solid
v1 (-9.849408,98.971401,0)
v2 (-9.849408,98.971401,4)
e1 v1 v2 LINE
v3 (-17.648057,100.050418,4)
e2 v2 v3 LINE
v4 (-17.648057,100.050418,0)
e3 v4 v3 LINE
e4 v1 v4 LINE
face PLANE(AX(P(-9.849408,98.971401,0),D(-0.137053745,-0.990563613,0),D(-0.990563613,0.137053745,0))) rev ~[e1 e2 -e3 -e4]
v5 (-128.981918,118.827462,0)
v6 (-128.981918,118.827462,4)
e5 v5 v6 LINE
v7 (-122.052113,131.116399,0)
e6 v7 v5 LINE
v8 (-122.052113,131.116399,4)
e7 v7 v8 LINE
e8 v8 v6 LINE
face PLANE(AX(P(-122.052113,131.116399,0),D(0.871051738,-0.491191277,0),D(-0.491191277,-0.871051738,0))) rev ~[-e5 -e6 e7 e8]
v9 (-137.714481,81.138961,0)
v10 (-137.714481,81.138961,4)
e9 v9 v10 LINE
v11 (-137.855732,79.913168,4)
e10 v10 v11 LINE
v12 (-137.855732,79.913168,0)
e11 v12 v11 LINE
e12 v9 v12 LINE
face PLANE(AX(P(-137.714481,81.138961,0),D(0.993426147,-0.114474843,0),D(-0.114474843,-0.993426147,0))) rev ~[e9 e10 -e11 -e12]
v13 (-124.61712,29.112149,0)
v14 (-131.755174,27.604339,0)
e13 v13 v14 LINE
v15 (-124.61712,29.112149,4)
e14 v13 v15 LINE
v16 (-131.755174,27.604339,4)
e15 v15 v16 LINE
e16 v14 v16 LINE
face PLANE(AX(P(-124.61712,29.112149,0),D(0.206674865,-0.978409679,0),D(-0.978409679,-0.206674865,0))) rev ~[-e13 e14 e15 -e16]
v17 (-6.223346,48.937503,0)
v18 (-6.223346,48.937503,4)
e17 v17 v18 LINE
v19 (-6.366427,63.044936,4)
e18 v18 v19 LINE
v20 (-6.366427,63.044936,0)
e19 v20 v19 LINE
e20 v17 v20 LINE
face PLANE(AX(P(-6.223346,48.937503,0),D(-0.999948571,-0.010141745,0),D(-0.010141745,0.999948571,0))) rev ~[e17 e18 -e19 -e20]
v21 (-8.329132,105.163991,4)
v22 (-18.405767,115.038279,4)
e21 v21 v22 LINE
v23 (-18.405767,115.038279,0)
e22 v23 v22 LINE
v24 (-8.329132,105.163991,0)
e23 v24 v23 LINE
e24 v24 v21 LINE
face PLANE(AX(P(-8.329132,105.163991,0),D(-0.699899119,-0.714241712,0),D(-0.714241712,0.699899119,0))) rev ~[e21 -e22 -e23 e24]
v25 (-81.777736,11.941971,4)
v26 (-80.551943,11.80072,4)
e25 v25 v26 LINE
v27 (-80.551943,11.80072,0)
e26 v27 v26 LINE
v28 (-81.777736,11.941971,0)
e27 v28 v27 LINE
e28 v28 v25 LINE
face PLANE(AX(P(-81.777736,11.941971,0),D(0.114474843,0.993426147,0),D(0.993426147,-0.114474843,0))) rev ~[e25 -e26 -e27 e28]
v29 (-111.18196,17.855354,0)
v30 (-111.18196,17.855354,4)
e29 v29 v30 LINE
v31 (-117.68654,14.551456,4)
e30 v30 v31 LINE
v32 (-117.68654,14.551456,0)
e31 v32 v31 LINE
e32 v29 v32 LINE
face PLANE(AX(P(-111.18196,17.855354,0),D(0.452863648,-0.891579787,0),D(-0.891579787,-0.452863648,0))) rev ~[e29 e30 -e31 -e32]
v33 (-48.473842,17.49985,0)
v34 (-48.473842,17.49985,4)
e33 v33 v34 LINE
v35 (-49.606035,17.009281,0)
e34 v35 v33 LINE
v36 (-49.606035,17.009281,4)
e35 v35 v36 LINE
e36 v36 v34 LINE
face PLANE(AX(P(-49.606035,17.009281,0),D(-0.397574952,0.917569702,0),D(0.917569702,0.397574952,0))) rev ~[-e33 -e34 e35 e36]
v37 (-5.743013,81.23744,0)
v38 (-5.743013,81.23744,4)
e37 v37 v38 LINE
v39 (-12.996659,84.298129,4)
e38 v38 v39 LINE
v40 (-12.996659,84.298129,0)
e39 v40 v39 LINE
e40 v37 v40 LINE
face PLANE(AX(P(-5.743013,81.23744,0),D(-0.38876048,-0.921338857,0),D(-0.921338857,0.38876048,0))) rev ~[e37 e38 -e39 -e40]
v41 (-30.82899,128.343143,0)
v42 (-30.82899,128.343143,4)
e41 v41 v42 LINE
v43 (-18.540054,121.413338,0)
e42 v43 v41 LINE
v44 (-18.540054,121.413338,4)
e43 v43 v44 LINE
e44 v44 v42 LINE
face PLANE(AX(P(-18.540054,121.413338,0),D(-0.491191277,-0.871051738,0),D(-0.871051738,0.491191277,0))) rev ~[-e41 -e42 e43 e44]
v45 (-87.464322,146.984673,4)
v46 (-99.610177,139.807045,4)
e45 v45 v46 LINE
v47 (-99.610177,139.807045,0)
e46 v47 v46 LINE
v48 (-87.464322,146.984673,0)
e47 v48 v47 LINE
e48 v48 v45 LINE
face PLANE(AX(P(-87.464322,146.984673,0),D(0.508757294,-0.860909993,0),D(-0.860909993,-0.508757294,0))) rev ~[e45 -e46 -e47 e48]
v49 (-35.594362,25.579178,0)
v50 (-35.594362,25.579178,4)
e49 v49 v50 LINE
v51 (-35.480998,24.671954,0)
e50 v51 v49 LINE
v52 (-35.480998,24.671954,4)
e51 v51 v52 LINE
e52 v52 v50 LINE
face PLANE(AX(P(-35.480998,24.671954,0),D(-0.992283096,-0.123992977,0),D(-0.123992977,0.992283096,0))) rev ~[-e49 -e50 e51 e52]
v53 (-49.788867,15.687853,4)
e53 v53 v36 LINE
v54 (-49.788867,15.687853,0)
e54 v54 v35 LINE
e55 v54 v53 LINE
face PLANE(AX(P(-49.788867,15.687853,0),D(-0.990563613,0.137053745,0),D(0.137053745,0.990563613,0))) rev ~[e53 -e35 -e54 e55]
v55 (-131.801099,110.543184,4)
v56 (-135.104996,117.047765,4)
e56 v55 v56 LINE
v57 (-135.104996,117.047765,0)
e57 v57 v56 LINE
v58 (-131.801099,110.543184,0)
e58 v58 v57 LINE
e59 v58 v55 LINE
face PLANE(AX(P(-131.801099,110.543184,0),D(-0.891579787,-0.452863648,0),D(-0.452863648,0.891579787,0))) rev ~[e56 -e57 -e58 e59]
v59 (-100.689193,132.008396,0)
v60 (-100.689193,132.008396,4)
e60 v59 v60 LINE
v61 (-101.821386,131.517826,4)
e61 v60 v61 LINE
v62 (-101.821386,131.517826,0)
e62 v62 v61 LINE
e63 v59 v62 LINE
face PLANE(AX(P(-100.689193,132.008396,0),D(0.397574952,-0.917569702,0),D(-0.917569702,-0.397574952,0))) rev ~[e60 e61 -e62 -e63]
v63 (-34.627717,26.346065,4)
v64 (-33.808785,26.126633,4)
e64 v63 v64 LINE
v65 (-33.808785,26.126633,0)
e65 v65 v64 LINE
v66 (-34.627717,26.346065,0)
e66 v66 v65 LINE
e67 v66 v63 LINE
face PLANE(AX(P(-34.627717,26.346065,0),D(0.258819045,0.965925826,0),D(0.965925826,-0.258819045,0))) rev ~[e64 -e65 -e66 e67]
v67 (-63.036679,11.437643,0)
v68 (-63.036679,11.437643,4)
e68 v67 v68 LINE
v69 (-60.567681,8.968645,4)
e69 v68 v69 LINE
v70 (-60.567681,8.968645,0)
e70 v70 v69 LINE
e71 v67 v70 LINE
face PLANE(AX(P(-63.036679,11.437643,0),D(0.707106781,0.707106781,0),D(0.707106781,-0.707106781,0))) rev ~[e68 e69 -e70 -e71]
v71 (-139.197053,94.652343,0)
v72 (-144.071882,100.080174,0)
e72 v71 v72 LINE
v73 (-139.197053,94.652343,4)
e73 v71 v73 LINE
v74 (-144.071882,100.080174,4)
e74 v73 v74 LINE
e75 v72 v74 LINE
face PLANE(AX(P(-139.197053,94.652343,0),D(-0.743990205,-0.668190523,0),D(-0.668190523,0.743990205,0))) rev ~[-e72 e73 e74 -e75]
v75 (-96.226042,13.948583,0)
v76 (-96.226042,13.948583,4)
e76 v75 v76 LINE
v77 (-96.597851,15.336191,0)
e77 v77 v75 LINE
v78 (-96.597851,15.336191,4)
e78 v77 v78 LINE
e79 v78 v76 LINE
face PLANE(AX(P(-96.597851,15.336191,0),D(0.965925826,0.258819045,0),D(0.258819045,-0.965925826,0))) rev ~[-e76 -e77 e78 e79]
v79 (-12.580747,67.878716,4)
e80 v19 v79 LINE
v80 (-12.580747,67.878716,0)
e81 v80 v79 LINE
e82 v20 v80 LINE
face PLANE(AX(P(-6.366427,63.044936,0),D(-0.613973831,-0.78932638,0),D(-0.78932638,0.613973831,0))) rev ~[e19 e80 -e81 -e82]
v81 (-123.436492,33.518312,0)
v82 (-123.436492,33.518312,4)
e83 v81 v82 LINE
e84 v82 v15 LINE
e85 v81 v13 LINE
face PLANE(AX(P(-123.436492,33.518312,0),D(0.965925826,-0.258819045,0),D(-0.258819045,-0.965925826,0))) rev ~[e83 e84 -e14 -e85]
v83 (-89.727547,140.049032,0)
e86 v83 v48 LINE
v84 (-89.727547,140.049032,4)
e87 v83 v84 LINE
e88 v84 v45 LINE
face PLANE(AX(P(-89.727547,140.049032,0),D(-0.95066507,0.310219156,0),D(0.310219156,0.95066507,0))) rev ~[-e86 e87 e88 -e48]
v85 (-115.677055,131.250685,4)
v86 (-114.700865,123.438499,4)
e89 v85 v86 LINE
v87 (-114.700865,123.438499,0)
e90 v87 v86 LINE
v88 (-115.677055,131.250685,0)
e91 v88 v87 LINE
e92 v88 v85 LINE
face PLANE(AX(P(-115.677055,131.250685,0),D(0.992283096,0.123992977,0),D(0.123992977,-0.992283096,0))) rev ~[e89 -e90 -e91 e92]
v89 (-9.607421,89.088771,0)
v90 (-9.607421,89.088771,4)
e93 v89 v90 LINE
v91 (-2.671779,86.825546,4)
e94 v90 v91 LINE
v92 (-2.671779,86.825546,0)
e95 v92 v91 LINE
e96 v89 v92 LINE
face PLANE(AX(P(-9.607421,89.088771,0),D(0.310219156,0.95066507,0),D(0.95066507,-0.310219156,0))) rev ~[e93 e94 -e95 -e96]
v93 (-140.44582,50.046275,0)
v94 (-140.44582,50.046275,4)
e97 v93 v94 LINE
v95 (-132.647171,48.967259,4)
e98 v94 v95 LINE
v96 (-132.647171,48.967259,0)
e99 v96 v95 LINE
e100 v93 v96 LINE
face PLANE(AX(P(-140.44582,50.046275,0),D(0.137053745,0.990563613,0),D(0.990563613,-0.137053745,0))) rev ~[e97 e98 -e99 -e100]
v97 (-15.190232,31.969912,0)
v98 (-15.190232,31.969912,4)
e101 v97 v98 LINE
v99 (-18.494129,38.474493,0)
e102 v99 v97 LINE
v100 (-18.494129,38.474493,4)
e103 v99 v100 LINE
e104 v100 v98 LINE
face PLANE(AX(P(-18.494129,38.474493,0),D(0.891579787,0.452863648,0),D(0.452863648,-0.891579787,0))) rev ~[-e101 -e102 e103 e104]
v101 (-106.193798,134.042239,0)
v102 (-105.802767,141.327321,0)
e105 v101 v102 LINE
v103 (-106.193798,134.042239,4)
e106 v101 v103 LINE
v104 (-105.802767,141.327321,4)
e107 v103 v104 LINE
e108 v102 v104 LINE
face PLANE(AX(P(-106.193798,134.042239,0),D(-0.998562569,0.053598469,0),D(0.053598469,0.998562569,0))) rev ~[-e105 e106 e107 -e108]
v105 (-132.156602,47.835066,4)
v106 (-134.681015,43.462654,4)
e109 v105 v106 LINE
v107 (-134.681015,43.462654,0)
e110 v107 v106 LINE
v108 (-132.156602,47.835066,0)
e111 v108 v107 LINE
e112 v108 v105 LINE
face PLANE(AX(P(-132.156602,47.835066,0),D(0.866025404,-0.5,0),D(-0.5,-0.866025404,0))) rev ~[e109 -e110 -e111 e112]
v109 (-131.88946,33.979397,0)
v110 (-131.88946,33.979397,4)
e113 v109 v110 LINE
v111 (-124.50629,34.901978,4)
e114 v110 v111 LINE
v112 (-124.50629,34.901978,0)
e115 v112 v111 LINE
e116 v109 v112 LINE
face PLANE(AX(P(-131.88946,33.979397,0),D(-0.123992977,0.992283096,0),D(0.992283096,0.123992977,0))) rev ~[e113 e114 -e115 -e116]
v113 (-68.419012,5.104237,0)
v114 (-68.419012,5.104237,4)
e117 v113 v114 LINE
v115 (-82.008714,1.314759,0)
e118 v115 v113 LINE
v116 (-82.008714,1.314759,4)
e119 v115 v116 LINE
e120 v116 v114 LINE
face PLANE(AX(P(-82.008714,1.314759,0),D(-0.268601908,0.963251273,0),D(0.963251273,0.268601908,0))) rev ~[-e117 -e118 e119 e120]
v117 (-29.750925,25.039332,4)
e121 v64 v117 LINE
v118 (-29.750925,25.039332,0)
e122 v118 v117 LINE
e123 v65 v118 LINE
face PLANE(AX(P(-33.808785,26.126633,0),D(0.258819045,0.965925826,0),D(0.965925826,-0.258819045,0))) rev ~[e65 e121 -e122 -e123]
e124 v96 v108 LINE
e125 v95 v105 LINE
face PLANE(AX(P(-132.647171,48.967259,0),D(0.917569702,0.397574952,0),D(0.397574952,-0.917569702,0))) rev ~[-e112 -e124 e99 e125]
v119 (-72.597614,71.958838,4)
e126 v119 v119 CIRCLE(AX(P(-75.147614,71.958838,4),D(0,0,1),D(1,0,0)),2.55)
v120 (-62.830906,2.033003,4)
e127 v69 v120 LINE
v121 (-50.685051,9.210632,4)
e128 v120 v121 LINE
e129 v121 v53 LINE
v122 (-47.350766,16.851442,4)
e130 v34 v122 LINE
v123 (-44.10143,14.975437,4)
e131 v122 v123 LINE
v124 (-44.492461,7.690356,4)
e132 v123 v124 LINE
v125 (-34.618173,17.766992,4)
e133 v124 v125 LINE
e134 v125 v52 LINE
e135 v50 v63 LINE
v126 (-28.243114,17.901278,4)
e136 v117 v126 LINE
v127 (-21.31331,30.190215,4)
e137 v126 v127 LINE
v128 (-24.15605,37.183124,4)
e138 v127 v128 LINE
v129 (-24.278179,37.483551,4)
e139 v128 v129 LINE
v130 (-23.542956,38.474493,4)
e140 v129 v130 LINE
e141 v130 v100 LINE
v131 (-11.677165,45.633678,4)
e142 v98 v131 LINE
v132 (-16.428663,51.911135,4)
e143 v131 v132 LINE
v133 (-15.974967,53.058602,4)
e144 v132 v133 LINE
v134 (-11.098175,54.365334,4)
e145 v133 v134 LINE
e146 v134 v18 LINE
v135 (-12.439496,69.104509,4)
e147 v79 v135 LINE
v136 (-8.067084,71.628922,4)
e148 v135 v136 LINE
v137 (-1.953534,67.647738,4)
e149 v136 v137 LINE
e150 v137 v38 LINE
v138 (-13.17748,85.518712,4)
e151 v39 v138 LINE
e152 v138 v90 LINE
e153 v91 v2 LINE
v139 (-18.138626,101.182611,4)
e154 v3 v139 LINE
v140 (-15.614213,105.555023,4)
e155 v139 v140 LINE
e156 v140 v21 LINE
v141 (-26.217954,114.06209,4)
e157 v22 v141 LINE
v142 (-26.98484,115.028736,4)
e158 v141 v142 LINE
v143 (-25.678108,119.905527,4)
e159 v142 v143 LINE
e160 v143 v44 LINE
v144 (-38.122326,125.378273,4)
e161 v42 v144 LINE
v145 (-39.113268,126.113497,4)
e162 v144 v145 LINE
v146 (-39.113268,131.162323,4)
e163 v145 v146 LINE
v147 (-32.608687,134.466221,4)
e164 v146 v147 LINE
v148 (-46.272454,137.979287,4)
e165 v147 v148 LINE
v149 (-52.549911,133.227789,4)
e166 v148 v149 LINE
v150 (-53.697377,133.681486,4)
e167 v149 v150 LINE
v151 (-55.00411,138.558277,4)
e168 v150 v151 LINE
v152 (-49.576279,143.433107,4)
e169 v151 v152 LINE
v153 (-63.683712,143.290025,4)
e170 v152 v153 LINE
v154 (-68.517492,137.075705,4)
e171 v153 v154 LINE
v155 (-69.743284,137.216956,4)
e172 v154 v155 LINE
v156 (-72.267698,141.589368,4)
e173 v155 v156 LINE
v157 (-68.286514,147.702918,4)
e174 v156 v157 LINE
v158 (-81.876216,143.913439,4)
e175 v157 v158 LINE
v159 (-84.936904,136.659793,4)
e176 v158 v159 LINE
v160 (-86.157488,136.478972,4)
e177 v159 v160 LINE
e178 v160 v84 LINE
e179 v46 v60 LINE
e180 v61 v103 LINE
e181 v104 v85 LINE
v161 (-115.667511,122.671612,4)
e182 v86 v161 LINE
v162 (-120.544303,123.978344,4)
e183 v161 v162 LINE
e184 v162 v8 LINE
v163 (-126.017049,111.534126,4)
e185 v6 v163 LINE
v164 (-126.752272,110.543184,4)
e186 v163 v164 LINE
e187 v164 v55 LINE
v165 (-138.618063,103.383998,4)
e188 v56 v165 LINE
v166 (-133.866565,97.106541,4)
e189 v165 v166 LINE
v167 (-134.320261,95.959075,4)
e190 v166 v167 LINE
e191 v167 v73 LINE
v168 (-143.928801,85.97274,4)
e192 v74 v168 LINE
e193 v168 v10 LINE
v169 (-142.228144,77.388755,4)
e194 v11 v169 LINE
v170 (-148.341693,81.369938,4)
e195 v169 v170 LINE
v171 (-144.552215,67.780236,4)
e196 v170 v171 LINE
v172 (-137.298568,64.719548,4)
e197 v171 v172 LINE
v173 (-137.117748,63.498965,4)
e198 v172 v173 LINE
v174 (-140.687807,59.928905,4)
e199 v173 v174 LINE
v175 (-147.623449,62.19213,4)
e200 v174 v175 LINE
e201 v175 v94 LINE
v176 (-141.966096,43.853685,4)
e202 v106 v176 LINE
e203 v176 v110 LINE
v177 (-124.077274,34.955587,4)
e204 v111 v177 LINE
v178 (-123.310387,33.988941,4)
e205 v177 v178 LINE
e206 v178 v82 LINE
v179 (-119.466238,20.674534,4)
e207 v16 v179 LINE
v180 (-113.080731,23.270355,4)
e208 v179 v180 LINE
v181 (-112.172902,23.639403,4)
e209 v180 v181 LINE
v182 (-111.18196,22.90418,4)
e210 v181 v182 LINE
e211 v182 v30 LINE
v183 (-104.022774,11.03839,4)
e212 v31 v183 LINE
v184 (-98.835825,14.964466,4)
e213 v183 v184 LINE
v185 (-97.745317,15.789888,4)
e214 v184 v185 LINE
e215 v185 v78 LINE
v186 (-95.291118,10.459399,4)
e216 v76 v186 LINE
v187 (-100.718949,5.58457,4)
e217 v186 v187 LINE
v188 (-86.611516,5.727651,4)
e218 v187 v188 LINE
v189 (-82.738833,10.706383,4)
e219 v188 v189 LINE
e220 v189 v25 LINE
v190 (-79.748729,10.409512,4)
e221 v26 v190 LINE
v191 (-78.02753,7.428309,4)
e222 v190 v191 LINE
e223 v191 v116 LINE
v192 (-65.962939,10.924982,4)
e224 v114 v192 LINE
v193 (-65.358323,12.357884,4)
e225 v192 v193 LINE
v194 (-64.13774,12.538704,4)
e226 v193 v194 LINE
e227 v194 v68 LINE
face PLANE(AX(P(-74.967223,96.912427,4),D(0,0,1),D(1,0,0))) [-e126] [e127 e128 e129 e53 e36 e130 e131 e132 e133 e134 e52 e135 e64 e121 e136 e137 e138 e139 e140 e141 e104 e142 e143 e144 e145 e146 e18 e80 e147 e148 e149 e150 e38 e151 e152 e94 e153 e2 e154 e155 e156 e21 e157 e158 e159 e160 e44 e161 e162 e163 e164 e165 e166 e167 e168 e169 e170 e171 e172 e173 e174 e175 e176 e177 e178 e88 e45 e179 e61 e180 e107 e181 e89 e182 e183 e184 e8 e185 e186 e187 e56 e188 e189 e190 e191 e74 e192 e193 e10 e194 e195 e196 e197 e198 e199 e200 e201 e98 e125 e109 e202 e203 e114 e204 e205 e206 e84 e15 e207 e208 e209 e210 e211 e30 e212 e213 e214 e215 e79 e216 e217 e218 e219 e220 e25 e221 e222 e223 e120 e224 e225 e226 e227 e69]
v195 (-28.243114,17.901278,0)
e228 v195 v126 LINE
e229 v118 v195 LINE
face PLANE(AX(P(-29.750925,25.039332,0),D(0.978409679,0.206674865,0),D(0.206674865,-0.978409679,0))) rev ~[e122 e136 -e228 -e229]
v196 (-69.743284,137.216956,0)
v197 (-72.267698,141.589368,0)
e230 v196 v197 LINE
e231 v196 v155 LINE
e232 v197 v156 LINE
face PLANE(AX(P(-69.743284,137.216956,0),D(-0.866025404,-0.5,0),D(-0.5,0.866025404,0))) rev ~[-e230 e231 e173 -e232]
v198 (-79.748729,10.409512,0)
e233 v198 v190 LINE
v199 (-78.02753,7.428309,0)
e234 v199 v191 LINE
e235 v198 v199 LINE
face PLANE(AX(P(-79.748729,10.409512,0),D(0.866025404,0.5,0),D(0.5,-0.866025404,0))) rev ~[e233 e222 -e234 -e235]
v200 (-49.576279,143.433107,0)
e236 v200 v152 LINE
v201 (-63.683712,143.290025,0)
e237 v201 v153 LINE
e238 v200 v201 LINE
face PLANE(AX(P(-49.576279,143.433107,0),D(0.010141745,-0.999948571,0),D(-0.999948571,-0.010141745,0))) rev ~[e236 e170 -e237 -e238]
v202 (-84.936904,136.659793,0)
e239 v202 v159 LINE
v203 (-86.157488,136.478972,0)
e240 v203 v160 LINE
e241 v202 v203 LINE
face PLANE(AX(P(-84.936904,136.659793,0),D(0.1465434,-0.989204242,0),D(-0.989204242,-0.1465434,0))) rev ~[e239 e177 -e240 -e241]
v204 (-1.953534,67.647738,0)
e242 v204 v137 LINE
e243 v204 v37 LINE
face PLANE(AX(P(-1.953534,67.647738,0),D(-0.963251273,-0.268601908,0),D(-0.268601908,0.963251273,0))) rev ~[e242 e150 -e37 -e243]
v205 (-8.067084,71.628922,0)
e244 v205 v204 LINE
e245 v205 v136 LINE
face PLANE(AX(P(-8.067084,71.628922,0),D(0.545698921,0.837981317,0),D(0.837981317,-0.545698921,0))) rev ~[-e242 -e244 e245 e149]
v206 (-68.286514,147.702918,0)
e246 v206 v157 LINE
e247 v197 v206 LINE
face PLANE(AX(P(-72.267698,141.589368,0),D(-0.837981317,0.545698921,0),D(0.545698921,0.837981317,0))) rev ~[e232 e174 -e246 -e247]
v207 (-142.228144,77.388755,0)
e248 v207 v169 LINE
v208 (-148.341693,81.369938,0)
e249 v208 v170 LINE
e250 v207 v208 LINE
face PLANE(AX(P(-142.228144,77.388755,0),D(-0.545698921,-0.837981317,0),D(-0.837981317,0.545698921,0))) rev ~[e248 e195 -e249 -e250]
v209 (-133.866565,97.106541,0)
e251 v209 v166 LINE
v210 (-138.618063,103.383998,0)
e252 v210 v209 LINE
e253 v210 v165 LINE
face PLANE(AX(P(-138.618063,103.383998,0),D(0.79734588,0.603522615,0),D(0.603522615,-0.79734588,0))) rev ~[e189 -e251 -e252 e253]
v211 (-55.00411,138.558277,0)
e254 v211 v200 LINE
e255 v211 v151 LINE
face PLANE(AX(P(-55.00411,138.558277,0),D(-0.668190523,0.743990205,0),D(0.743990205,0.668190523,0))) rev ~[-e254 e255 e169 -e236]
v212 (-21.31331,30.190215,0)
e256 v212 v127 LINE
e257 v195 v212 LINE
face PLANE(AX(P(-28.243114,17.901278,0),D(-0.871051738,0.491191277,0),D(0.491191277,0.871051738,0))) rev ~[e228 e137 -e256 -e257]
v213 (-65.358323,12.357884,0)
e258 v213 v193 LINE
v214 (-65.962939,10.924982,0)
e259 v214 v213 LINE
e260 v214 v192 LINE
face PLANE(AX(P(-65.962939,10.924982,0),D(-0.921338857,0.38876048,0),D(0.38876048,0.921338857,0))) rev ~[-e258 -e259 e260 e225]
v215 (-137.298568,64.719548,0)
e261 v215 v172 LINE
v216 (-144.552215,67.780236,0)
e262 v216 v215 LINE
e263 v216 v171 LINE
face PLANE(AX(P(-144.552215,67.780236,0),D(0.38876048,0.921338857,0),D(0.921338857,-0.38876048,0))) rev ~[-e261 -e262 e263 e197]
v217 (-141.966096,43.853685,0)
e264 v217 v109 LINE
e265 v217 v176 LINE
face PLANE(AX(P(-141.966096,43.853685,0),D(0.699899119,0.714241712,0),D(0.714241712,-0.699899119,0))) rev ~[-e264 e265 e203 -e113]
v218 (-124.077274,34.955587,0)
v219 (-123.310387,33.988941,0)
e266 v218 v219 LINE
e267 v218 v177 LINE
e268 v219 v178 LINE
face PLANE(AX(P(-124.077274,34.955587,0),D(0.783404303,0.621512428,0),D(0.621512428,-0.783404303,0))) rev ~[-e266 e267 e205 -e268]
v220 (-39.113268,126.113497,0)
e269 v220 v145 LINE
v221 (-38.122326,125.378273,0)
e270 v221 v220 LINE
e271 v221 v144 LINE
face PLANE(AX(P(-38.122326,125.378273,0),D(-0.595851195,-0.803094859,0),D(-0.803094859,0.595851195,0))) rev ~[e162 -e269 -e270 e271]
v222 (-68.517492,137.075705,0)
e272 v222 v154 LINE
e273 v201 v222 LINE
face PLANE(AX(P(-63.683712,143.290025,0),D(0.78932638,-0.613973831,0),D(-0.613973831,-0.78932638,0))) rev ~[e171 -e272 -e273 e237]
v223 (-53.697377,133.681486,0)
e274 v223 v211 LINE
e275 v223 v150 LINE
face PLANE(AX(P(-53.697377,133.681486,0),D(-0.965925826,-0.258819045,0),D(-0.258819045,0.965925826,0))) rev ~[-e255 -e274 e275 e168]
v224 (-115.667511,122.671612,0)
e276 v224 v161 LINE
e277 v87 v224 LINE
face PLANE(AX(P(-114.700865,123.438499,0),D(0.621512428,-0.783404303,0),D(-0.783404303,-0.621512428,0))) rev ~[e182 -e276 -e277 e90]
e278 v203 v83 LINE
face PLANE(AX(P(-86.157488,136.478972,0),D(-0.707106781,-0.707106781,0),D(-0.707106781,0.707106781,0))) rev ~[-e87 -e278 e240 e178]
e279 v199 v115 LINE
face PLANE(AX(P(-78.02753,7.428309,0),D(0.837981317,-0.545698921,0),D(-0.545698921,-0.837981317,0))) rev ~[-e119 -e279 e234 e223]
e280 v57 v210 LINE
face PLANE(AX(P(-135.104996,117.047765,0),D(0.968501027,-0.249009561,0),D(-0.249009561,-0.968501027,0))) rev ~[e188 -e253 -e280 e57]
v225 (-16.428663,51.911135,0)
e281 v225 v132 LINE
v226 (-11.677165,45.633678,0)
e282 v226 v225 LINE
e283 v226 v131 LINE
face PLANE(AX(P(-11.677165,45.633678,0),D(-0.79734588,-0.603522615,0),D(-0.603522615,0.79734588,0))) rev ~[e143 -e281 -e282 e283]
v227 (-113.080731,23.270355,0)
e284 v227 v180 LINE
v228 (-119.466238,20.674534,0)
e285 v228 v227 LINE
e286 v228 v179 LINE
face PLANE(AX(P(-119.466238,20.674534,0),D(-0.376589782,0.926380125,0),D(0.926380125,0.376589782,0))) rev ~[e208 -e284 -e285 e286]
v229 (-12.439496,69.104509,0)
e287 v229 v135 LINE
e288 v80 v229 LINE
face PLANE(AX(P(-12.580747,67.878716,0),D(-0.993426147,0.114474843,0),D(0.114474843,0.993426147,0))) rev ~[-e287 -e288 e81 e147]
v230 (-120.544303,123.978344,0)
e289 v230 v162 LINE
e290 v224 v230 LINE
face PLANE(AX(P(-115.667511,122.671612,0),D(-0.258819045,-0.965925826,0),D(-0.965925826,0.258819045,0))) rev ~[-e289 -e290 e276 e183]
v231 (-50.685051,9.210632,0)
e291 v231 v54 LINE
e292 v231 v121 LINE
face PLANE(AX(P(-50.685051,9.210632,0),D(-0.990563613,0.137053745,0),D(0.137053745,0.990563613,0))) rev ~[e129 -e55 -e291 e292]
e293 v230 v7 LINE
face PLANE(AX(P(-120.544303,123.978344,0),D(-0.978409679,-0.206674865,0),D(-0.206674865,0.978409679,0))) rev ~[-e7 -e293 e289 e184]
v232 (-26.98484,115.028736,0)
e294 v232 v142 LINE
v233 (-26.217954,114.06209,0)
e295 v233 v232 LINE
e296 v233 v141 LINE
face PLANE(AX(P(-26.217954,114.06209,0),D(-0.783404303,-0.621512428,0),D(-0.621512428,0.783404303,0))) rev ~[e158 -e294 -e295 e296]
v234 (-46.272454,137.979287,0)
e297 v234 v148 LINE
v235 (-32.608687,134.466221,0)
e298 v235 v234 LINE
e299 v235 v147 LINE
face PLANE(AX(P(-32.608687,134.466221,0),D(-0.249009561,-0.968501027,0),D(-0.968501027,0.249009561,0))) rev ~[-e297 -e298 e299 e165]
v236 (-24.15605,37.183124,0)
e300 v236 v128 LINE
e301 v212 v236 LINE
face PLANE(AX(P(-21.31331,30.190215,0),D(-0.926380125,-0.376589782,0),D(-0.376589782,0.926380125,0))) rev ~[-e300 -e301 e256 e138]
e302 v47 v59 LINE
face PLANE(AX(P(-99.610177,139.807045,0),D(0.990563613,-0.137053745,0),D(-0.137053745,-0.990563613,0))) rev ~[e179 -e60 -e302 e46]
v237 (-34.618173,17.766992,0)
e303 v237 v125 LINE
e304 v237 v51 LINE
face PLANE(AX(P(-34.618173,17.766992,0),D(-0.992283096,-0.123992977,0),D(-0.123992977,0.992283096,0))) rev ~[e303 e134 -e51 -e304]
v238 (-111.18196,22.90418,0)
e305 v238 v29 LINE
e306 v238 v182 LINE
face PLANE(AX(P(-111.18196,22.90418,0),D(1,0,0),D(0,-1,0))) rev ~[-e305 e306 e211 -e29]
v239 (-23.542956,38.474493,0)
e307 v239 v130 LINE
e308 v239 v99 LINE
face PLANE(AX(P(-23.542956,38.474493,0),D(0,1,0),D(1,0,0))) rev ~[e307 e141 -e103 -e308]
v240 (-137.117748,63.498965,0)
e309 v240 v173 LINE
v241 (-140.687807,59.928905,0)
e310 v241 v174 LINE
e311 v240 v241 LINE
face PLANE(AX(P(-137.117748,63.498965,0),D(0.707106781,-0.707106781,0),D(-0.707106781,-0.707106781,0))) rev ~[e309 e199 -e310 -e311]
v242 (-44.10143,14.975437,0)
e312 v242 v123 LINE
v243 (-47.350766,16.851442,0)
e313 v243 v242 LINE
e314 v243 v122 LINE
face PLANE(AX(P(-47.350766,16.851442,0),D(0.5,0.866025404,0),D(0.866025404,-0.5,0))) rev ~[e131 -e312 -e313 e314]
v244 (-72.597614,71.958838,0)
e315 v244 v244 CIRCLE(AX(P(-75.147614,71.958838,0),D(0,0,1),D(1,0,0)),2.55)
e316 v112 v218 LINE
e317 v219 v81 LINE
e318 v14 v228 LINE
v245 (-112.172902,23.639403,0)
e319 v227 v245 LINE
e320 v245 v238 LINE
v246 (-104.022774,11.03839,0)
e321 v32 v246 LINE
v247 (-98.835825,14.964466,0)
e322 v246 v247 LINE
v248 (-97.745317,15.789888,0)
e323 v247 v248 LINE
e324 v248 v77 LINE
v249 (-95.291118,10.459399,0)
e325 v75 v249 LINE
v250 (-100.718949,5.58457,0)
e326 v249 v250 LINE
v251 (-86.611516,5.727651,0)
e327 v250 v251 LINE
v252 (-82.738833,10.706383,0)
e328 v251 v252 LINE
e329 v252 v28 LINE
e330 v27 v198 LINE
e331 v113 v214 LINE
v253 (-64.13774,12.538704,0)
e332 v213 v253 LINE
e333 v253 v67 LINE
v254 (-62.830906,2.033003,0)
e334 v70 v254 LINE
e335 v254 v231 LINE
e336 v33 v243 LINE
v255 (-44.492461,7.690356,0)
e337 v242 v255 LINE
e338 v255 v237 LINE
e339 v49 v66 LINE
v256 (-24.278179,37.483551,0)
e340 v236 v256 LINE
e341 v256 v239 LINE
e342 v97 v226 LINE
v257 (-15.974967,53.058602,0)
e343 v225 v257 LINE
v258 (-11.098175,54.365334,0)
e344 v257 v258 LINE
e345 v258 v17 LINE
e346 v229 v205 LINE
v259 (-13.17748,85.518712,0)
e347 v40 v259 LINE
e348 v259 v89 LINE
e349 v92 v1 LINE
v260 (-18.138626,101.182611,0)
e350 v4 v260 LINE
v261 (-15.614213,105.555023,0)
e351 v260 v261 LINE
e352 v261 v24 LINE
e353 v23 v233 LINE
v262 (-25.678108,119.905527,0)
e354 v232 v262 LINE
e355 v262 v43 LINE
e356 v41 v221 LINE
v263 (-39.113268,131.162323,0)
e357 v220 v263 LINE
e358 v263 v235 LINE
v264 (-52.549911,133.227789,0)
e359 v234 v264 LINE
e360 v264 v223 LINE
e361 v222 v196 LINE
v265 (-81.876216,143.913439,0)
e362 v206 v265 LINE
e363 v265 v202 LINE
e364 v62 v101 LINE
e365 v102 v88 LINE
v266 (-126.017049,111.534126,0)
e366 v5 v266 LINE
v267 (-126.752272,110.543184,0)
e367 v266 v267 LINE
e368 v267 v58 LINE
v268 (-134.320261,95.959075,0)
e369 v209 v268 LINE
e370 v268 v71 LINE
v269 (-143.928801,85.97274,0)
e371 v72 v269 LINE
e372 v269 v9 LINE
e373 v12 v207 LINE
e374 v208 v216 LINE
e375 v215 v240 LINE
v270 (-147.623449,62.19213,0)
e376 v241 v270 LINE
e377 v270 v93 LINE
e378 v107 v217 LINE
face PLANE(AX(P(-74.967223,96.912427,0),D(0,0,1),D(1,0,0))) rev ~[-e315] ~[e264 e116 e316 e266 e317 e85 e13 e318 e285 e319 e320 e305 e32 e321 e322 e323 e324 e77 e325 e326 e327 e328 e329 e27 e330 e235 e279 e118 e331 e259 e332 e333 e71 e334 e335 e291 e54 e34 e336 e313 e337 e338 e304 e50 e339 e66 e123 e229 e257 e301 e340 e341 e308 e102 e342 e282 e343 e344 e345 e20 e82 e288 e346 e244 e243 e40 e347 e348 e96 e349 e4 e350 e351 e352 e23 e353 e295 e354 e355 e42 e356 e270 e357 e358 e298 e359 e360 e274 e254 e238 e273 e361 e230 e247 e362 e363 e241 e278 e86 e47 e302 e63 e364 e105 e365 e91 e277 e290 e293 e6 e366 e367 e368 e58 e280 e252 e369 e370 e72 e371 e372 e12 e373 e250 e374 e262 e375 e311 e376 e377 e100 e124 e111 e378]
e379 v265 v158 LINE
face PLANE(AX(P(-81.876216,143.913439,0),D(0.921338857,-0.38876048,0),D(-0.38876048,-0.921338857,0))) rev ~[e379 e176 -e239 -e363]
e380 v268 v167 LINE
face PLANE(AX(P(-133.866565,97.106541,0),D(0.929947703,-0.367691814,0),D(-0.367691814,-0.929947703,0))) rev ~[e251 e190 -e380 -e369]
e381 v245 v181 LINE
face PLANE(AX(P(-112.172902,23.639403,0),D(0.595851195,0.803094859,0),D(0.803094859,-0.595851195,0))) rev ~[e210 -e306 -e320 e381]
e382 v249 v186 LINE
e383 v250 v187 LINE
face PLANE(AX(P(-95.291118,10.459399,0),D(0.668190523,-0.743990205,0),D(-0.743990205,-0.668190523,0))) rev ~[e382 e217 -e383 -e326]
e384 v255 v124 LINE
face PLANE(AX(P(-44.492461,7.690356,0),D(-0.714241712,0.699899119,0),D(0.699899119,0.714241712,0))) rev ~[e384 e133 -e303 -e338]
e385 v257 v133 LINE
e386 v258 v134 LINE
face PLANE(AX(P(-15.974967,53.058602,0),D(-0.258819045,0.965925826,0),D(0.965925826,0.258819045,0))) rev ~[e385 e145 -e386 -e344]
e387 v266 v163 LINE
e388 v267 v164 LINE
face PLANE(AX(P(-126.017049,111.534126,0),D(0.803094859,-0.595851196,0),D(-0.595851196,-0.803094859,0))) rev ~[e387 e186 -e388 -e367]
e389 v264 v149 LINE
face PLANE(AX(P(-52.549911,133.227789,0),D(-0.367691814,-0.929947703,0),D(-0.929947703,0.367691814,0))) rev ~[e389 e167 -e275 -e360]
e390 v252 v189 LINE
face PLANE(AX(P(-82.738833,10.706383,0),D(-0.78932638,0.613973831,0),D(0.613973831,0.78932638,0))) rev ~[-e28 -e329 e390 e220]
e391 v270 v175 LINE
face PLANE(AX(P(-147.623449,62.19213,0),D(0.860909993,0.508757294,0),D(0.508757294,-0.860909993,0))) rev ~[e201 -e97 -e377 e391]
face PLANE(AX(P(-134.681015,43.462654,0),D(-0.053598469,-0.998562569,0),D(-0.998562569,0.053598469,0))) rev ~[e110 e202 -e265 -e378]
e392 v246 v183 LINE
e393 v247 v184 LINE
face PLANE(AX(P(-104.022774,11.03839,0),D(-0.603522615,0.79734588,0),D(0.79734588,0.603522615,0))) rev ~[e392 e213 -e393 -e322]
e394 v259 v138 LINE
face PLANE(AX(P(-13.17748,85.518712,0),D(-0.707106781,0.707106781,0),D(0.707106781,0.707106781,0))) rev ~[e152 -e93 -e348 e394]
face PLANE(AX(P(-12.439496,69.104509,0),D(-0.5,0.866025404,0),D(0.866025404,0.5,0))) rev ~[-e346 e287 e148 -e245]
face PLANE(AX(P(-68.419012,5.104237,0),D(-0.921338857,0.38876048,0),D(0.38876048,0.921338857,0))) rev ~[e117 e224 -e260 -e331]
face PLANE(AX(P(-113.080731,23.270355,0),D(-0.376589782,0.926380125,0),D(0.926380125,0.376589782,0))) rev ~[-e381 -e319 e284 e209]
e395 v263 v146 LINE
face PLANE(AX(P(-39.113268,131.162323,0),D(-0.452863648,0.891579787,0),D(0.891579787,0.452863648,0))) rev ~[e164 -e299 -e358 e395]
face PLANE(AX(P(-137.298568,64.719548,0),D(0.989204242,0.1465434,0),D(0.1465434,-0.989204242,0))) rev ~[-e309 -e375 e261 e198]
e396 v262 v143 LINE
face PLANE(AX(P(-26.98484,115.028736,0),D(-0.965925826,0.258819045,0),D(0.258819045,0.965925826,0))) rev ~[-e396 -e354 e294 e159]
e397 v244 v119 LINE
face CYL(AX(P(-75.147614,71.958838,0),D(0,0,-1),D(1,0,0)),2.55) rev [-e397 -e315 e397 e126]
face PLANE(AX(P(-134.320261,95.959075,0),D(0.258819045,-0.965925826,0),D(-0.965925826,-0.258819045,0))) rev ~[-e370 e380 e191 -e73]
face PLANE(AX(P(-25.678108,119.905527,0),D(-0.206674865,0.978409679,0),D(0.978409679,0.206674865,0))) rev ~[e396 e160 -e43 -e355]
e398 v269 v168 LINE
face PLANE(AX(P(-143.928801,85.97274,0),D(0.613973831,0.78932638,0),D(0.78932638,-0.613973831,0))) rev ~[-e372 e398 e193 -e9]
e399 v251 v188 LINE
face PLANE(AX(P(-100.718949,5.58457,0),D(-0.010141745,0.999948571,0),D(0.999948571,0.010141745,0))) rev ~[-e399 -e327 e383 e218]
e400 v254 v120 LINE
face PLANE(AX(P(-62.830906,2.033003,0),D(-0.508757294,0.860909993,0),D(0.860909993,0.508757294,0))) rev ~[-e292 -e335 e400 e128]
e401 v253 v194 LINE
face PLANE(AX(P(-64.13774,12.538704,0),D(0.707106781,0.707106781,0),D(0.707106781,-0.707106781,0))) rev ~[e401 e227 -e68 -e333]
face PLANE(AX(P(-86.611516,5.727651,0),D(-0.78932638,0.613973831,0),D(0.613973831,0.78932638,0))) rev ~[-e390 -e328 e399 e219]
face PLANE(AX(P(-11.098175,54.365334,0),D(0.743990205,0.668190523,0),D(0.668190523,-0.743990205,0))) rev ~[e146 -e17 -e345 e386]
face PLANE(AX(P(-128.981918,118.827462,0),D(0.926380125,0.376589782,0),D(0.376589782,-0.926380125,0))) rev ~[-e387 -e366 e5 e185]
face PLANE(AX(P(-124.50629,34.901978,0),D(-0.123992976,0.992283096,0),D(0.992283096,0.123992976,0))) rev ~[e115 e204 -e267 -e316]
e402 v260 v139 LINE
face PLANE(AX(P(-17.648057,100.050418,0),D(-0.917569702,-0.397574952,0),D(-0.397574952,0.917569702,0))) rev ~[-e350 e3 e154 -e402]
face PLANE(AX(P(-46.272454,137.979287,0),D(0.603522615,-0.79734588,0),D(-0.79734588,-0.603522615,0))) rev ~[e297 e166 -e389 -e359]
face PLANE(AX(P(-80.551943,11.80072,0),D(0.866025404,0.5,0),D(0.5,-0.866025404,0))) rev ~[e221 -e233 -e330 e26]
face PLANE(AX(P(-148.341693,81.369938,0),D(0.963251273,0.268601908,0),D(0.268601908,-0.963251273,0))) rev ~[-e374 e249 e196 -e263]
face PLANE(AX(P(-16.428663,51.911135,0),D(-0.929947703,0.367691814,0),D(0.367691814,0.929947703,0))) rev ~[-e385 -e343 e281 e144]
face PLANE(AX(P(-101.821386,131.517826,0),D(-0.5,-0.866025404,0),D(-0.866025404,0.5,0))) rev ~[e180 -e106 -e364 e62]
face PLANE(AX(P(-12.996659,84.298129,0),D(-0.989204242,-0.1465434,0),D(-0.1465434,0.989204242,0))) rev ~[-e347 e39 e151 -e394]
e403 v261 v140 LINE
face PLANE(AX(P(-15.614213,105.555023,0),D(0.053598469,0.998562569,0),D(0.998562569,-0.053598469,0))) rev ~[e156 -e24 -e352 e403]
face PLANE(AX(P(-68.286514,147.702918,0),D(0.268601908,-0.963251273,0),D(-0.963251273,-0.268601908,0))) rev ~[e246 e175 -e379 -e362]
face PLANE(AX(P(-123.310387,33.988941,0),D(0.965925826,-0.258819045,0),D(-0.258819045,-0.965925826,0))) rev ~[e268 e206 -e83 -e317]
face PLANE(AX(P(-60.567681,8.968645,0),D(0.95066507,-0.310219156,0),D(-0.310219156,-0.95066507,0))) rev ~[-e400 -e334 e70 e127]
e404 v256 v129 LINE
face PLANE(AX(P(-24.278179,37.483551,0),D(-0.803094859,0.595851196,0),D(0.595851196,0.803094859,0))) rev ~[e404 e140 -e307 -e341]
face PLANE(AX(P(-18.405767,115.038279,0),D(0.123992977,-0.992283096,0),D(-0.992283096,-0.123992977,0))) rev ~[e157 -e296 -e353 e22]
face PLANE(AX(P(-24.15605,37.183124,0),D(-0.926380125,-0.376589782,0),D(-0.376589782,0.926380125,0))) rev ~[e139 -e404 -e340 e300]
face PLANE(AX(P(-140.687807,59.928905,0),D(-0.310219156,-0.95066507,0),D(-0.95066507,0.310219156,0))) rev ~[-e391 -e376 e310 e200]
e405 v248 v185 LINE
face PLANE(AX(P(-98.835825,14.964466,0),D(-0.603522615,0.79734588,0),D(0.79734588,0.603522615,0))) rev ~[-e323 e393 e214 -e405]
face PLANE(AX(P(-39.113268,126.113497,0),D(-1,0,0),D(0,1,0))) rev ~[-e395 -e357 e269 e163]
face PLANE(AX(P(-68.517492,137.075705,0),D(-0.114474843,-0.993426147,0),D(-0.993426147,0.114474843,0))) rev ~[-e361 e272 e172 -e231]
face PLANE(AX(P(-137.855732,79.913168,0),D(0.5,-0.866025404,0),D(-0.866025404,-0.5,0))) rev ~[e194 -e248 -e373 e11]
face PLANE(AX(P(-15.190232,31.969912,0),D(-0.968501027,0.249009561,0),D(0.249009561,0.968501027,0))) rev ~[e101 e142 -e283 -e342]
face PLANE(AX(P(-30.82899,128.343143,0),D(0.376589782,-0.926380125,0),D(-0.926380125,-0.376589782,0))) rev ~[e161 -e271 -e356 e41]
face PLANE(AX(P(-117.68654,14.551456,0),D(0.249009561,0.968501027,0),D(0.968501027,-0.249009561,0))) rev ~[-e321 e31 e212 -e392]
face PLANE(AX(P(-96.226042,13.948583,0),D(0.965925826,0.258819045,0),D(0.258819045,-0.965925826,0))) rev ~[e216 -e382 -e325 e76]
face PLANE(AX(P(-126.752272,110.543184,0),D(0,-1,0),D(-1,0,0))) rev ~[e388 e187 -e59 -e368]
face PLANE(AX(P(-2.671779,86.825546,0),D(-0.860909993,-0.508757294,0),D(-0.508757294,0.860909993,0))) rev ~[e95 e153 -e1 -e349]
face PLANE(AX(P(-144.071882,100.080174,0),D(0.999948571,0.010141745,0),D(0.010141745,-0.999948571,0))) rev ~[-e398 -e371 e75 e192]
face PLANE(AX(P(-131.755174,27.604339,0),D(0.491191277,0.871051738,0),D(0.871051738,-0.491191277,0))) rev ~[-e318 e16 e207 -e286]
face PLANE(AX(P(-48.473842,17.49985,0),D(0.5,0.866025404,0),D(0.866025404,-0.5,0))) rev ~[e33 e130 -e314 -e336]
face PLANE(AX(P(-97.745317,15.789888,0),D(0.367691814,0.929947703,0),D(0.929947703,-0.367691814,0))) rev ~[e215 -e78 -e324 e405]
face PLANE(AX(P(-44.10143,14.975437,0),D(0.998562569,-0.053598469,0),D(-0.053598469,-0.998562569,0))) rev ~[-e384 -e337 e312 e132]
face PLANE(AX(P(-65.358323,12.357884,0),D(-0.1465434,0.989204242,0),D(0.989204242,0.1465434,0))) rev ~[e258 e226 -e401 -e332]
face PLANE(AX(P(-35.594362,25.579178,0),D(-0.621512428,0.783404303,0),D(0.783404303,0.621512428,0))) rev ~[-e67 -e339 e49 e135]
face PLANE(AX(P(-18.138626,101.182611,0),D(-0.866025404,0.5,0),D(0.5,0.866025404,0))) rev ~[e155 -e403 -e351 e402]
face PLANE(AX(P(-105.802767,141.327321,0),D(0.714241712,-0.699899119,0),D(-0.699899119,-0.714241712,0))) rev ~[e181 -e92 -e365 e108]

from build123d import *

# Parameters (mm, degrees)
F0_R     = 2.55
F1_DEPTH = 4


with BuildPart() as f1:
    # F0 (on Top) → F1 (new body)
    with BuildSketch(Plane.XY):
        with BuildLine():
            ThreePointArc((-124.5062904637, 34.9019781678), (-94.6798918454, 130.5077918763), (-13.4265490771, 71.9588383555))
            ThreePointArc((-13.4265490771, 71.9588383555), (-15.9460629819, 54.5041481071), (-23.2989066791, 38.4744927287))
            Line((-23.2989066791, 38.4744927287), (-18.4941291809, 38.4744927287))
            Line((-18.4941291809, 38.4744927287), (-15.1902316609, 31.9699118096))
            Line((-15.1902316609, 31.9699118096), (-11.6771652001, 45.6336782124))
            Line((-11.6771652001, 45.6336782124), (-16.4286631589, 51.9111353048))
            Line((-16.4286631589, 51.9111353048), (-15.9749666852, 53.0586016821))
            Line((-15.9749666852, 53.0586016821), (-11.0981749339, 54.3653340935))
            Line((-11.0981749339, 54.3653340935), (-6.2233455697, 48.9375029958))
            Line((-6.2233455697, 48.9375029958), (-6.3664269186, 63.0449363554))
            Line((-6.3664269186, 63.0449363554), (-12.5807469609, 67.8787161199))
            Line((-12.5807469609, 67.8787161199), (-12.4394959717, 69.1045088166))
            Line((-12.4394959717, 69.1045088166), (-8.0670841047, 71.628921985))
            Line((-8.0670841047, 71.628921985), (-1.9535344613, 67.6477384281))
            Line((-1.9535344613, 67.6477384281), (-5.7430128625, 81.2374404747))
            Line((-5.7430128625, 81.2374404747), (-12.996659347, 84.2981288085))
            Line((-12.996659347, 84.2981288085), (-13.1774798638, 85.5187120781))
            Line((-13.1774798638, 85.5187120781), (-9.607420524, 89.0887714179))
            Line((-9.607420524, 89.0887714179), (-2.6717789066, 86.8255464819))
            Line((-2.6717789066, 86.8255464819), (-9.8494076693, 98.9714014791))
            Line((-9.8494076693, 98.9714014791), (-17.6480565754, 100.0504175303))
            Line((-17.6480565754, 100.0504175303), (-18.1386259788, 101.1826106401))
            Line((-18.1386259788, 101.1826106401), (-15.6142128104, 105.5550225071))
            Line((-15.6142128104, 105.5550225071), (-8.3291317335, 105.1639912313))
            Line((-8.3291317335, 105.1639912313), (-18.4057673193, 115.038279233))
            Line((-18.4057673193, 115.038279233), (-26.2179536118, 114.0620898408))
            Line((-26.2179536118, 114.0620898408), (-26.9848404077, 115.0287357013))
            Line((-26.9848404077, 115.0287357013), (-25.6781079963, 119.9055274526))
            Line((-25.6781079963, 119.9055274526), (-18.5400536961, 121.4133379722))
            Line((-18.5400536961, 121.4133379722), (-30.8289900422, 128.3431425691))
            Line((-30.8289900422, 128.3431425691), (-38.1223261356, 125.3782734275))
            Line((-38.1223261356, 125.3782734275), (-39.1132682562, 126.1134967208))
            Line((-39.1132682562, 126.1134967208), (-39.1132682562, 131.1623230577))
            Line((-39.1132682562, 131.1623230577), (-32.6086873371, 134.4662205776))
            Line((-32.6086873371, 134.4662205776), (-46.2724537399, 137.9792870384))
            Line((-46.2724537399, 137.9792870384), (-52.5499108323, 133.2277890797))
            Line((-52.5499108323, 133.2277890797), (-53.6973772096, 133.6814855534))
            Line((-53.6973772096, 133.6814855534), (-55.004109621, 138.5582773046))
            Line((-55.004109621, 138.5582773046), (-49.5762785233, 143.4331066688))
            Line((-49.5762785233, 143.4331066688), (-63.6837118829, 143.2900253199))
            Line((-63.6837118829, 143.2900253199), (-68.5174916473, 137.0757052777))
            Line((-68.5174916473, 137.0757052777), (-69.7432843441, 137.2169562669))
            Line((-69.7432843441, 137.2169562669), (-72.2676975125, 141.5893681339))
            Line((-72.2676975125, 141.5893681339), (-68.2865139556, 147.7029177772))
            Line((-68.2865139556, 147.7029177772), (-81.8762160022, 143.9134393761))
            Line((-81.8762160022, 143.9134393761), (-84.936904336, 136.6597928916))
            Line((-84.936904336, 136.6597928916), (-86.1574876056, 136.4789723748))
            Line((-86.1574876056, 136.4789723748), (-89.7275469454, 140.0490317146))
            Line((-89.7275469454, 140.0490317146), (-87.4643220094, 146.984673332))
            Line((-87.4643220094, 146.984673332), (-99.6101770066, 139.8070445692))
            Line((-99.6101770066, 139.8070445692), (-100.6891930578, 132.0083956632))
            Line((-100.6891930578, 132.0083956632), (-101.8213861675, 131.5178262597))
            Line((-101.8213861675, 131.5178262597), (-106.1937980345, 134.0422394282))
            Line((-106.1937980345, 134.0422394282), (-105.8027667588, 141.3273205051))
            Line((-105.8027667588, 141.3273205051), (-115.6770547604, 131.2506849193))
            Line((-115.6770547604, 131.2506849193), (-114.7008653683, 123.4384986267))
            Line((-114.7008653683, 123.4384986267), (-115.6675112288, 122.6716118309))
            Line((-115.6675112288, 122.6716118309), (-120.54430298, 123.9783442423))
            Line((-120.54430298, 123.9783442423), (-122.0521134997, 131.1163985424))
            Line((-122.0521134997, 131.1163985424), (-128.9819180965, 118.8274621964))
            Line((-128.9819180965, 118.8274621964), (-126.017048955, 111.5341261029))
            Line((-126.017048955, 111.5341261029), (-126.7522722483, 110.5431839824))
            Line((-126.7522722483, 110.5431839824), (-131.8010985851, 110.5431839824))
            Line((-131.8010985851, 110.5431839824), (-135.1049961051, 117.0477649015))
            Line((-135.1049961051, 117.0477649015), (-138.6180625659, 103.3839984987))
            Line((-138.6180625659, 103.3839984987), (-133.8665646072, 97.1065414063))
            Line((-133.8665646072, 97.1065414063), (-134.3202610809, 95.959075029))
            Line((-134.3202610809, 95.959075029), (-139.1970528321, 94.6523426176))
            Line((-139.1970528321, 94.6523426176), (-144.0718821963, 100.0801737153))
            Line((-144.0718821963, 100.0801737153), (-143.9288008474, 85.9727403557))
            Line((-143.9288008474, 85.9727403557), (-137.7144808052, 81.1389605912))
            Line((-137.7144808052, 81.1389605912), (-137.8557317944, 79.9131678945))
            Line((-137.8557317944, 79.9131678945), (-142.2281436614, 77.3887547261))
            Line((-142.2281436614, 77.3887547261), (-148.3416933047, 81.369938283))
            Line((-148.3416933047, 81.369938283), (-144.5522149036, 67.7802362364))
            Line((-144.5522149036, 67.7802362364), (-137.2985684191, 64.7195479026))
            Line((-137.2985684191, 64.7195479026), (-137.1177479023, 63.498964633))
            Line((-137.1177479023, 63.498964633), (-140.6878072421, 59.9289052932))
            Line((-140.6878072421, 59.9289052932), (-147.6234488595, 62.1921302291))
            Line((-147.6234488595, 62.1921302291), (-140.4458200967, 50.046275232))
            Line((-140.4458200967, 50.046275232), (-132.6471711907, 48.9672591808))
            Line((-132.6471711907, 48.9672591808), (-132.1566017872, 47.835066071))
            Line((-132.1566017872, 47.835066071), (-134.6810149557, 43.462654204))
            Line((-134.6810149557, 43.462654204), (-141.9660960326, 43.8536854798))
            Line((-141.9660960326, 43.8536854798), (-131.8894604467, 33.9793974781))
            Line((-131.8894604467, 33.9793974781), (-124.5062904637, 34.9019781678))
        make_face()
        with BuildLine():
            ThreePointArc((-23.2989066791, 38.4744927287), (-15.9460629819, 54.5041481071), (-13.4265490771, 71.9588383555))
            ThreePointArc((-13.4265490771, 71.9588383555), (-94.6798918454, 130.5077918763), (-124.5062904637, 34.9019781678))
            Line((-124.5062904637, 34.9019781678), (-124.0772741542, 34.9555868702))
            Line((-124.0772741542, 34.9555868702), (-123.3103873583, 33.9889410098))
            Line((-123.3103873583, 33.9889410098), (-123.4364920799, 33.5183117819))
            ThreePointArc((-123.4364920799, 33.5183117819), (-118.5620502553, 28.0877025684), (-113.0807312325, 23.2703546153))
            Line((-113.0807312325, 23.2703546153), (-112.1729016304, 23.6394032836))
            Line((-112.1729016304, 23.6394032836), (-111.1819595098, 22.9041799903))
            Line((-111.1819595098, 22.9041799903), (-111.1819595098, 21.8488016761))
            ThreePointArc((-111.1819595098, 21.8488016761), (-105.2066304472, 18.052017229), (-98.8358253845, 14.9644660313))
            Line((-98.8358253845, 14.9644660313), (-97.7453169338, 15.7898876314))
            Line((-97.7453169338, 15.7898876314), (-96.5978505565, 15.3361911577))
            Line((-96.5978505565, 15.3361911577), (-96.2260421237, 13.948583196))
            ThreePointArc((-96.2260421237, 13.948583196), (-89.5738097681, 11.9473835068), (-82.7388325045, 10.7063833793))
            Line((-82.7388325045, 10.7063833793), (-81.7777361187, 11.9419714334))
            Line((-81.7777361187, 11.9419714334), (-80.551943422, 11.8007204442))
            Line((-80.551943422, 11.8007204442), (-79.7487288179, 10.4095119406))
            ThreePointArc((-79.7487288179, 10.4095119406), (-72.8413867162, 10.280875054), (-65.9629386228, 10.9249823317))
            Line((-65.9629386228, 10.9249823317), (-65.3583234301, 12.3578838195))
            Line((-65.3583234301, 12.3578838195), (-64.1377401605, 12.5387043363))
            Line((-64.1377401605, 12.5387043363), (-63.0366787862, 11.4376429621))
            ThreePointArc((-63.0366787862, 11.4376429621), (-56.292631901, 13.1882717832), (-49.7888666259, 15.6878531294))
            Line((-49.7888666259, 15.6878531294), (-49.6060347082, 17.0092810479))
            Line((-49.6060347082, 17.0092810479), (-48.4738415985, 17.4998504513))
            Line((-48.4738415985, 17.4998504513), (-47.3507659556, 16.8514424266))
            ThreePointArc((-47.3507659556, 16.8514424266), (-41.1899957069, 20.4188537942), (-35.480998155, 24.6719539429))
            Line((-35.480998155, 24.6719539429), (-35.5943623977, 25.5791780843))
            Line((-35.5943623977, 25.5791780843), (-34.6277165372, 26.3460648802))
            Line((-34.6277165372, 26.3460648802), (-33.8087849573, 26.1266328247))
            ThreePointArc((-33.8087849573, 26.1266328247), (-28.6525942831, 31.366930379), (-24.156050279, 37.1831243875))
            Line((-24.156050279, 37.1831243875), (-24.2781788111, 37.4835506082))
            Line((-24.2781788111, 37.4835506082), (-23.5429555178, 38.4744927287))
            Line((-23.5429555178, 38.4744927287), (-23.2989066791, 38.4744927287))
        make_face()
        with Locations((-75.147613883, 71.9588383555)):
            Circle(F0_R, mode=Mode.SUBTRACT)
        with BuildLine():
            ThreePointArc((-113.0807312325, 23.2703546153), (-118.5620502553, 28.0877025684), (-123.4364920799, 33.5183117819))
            Line((-123.4364920799, 33.5183117819), (-124.6171197697, 29.1121492585))
            Line((-124.6171197697, 29.1121492585), (-131.7551740699, 27.6043387389))
            Line((-131.7551740699, 27.6043387389), (-119.4662377238, 20.674534142))
            Line((-119.4662377238, 20.674534142), (-113.0807312325, 23.2703546153))
        make_face()
        with BuildLine():
            ThreePointArc((-98.8358253845, 14.9644660313), (-105.2066304472, 18.052017229), (-111.1819595098, 21.8488016761))
            Line((-111.1819595098, 21.8488016761), (-111.1819595098, 17.8553536534))
            Line((-111.1819595098, 17.8553536534), (-117.686540429, 14.5514561335))
            Line((-117.686540429, 14.5514561335), (-104.0227740261, 11.0383896727))
            Line((-104.0227740261, 11.0383896727), (-98.8358253845, 14.9644660313))
        make_face()
        with BuildLine():
            ThreePointArc((-82.7388325045, 10.7063833793), (-89.5738097681, 11.9473835068), (-96.2260421237, 13.948583196))
            Line((-96.2260421237, 13.948583196), (-95.2911181451, 10.4593994065))
            Line((-95.2911181451, 10.4593994065), (-100.7189492428, 5.5845700422))
            Line((-100.7189492428, 5.5845700422), (-86.6115158832, 5.7276513912))
            Line((-86.6115158832, 5.7276513912), (-82.7388325045, 10.7063833793))
        make_face()
        with BuildLine():
            ThreePointArc((-65.9629386228, 10.9249823317), (-72.8413867162, 10.280875054), (-79.7487288179, 10.4095119406))
            Line((-79.7487288179, 10.4095119406), (-78.0275302535, 7.4283085772))
            Line((-78.0275302535, 7.4283085772), (-82.0087138105, 1.3147589338))
            Line((-82.0087138105, 1.3147589338), (-68.4190117639, 5.104237335))
            Line((-68.4190117639, 5.104237335), (-65.9629386228, 10.9249823317))
        make_face()
        with BuildLine():
            Line((-50.6850507595, 9.2106321419), (-49.7888666259, 15.6878531294))
            ThreePointArc((-49.7888666259, 15.6878531294), (-56.292631901, 13.1882717832), (-63.0366787862, 11.4376429621))
            Line((-63.0366787862, 11.4376429621), (-60.5676808207, 8.9686449965))
            Line((-60.5676808207, 8.9686449965), (-62.8309057566, 2.0330033791))
            Line((-62.8309057566, 2.0330033791), (-50.6850507595, 9.2106321419))
        make_face()
        with BuildLine():
            Line((-34.6181730056, 17.7669917918), (-35.480998155, 24.6719539429))
            ThreePointArc((-35.480998155, 24.6719539429), (-41.1899957069, 20.4188537942), (-47.3507659556, 16.8514424266))
            Line((-47.3507659556, 16.8514424266), (-44.1014297315, 14.9754372829))
            Line((-44.1014297315, 14.9754372829), (-44.4924610072, 7.690356206))
            Line((-44.4924610072, 7.690356206), (-34.6181730056, 17.7669917918))
        make_face()
        with BuildLine():
            Line((-21.3133096695, 30.1902145147), (-24.156050279, 37.1831243875))
            ThreePointArc((-24.156050279, 37.1831243875), (-28.6525942831, 31.366930379), (-33.8087849573, 26.1266328247))
            Line((-33.8087849573, 26.1266328247), (-29.750924786, 25.0393324688))
            Line((-29.750924786, 25.0393324688), (-28.2431142663, 17.9012781686))
            Line((-28.2431142663, 17.9012781686), (-21.3133096695, 30.1902145147))
        make_face()
    extrude(amount=F1_DEPTH)


solid = f1.part
